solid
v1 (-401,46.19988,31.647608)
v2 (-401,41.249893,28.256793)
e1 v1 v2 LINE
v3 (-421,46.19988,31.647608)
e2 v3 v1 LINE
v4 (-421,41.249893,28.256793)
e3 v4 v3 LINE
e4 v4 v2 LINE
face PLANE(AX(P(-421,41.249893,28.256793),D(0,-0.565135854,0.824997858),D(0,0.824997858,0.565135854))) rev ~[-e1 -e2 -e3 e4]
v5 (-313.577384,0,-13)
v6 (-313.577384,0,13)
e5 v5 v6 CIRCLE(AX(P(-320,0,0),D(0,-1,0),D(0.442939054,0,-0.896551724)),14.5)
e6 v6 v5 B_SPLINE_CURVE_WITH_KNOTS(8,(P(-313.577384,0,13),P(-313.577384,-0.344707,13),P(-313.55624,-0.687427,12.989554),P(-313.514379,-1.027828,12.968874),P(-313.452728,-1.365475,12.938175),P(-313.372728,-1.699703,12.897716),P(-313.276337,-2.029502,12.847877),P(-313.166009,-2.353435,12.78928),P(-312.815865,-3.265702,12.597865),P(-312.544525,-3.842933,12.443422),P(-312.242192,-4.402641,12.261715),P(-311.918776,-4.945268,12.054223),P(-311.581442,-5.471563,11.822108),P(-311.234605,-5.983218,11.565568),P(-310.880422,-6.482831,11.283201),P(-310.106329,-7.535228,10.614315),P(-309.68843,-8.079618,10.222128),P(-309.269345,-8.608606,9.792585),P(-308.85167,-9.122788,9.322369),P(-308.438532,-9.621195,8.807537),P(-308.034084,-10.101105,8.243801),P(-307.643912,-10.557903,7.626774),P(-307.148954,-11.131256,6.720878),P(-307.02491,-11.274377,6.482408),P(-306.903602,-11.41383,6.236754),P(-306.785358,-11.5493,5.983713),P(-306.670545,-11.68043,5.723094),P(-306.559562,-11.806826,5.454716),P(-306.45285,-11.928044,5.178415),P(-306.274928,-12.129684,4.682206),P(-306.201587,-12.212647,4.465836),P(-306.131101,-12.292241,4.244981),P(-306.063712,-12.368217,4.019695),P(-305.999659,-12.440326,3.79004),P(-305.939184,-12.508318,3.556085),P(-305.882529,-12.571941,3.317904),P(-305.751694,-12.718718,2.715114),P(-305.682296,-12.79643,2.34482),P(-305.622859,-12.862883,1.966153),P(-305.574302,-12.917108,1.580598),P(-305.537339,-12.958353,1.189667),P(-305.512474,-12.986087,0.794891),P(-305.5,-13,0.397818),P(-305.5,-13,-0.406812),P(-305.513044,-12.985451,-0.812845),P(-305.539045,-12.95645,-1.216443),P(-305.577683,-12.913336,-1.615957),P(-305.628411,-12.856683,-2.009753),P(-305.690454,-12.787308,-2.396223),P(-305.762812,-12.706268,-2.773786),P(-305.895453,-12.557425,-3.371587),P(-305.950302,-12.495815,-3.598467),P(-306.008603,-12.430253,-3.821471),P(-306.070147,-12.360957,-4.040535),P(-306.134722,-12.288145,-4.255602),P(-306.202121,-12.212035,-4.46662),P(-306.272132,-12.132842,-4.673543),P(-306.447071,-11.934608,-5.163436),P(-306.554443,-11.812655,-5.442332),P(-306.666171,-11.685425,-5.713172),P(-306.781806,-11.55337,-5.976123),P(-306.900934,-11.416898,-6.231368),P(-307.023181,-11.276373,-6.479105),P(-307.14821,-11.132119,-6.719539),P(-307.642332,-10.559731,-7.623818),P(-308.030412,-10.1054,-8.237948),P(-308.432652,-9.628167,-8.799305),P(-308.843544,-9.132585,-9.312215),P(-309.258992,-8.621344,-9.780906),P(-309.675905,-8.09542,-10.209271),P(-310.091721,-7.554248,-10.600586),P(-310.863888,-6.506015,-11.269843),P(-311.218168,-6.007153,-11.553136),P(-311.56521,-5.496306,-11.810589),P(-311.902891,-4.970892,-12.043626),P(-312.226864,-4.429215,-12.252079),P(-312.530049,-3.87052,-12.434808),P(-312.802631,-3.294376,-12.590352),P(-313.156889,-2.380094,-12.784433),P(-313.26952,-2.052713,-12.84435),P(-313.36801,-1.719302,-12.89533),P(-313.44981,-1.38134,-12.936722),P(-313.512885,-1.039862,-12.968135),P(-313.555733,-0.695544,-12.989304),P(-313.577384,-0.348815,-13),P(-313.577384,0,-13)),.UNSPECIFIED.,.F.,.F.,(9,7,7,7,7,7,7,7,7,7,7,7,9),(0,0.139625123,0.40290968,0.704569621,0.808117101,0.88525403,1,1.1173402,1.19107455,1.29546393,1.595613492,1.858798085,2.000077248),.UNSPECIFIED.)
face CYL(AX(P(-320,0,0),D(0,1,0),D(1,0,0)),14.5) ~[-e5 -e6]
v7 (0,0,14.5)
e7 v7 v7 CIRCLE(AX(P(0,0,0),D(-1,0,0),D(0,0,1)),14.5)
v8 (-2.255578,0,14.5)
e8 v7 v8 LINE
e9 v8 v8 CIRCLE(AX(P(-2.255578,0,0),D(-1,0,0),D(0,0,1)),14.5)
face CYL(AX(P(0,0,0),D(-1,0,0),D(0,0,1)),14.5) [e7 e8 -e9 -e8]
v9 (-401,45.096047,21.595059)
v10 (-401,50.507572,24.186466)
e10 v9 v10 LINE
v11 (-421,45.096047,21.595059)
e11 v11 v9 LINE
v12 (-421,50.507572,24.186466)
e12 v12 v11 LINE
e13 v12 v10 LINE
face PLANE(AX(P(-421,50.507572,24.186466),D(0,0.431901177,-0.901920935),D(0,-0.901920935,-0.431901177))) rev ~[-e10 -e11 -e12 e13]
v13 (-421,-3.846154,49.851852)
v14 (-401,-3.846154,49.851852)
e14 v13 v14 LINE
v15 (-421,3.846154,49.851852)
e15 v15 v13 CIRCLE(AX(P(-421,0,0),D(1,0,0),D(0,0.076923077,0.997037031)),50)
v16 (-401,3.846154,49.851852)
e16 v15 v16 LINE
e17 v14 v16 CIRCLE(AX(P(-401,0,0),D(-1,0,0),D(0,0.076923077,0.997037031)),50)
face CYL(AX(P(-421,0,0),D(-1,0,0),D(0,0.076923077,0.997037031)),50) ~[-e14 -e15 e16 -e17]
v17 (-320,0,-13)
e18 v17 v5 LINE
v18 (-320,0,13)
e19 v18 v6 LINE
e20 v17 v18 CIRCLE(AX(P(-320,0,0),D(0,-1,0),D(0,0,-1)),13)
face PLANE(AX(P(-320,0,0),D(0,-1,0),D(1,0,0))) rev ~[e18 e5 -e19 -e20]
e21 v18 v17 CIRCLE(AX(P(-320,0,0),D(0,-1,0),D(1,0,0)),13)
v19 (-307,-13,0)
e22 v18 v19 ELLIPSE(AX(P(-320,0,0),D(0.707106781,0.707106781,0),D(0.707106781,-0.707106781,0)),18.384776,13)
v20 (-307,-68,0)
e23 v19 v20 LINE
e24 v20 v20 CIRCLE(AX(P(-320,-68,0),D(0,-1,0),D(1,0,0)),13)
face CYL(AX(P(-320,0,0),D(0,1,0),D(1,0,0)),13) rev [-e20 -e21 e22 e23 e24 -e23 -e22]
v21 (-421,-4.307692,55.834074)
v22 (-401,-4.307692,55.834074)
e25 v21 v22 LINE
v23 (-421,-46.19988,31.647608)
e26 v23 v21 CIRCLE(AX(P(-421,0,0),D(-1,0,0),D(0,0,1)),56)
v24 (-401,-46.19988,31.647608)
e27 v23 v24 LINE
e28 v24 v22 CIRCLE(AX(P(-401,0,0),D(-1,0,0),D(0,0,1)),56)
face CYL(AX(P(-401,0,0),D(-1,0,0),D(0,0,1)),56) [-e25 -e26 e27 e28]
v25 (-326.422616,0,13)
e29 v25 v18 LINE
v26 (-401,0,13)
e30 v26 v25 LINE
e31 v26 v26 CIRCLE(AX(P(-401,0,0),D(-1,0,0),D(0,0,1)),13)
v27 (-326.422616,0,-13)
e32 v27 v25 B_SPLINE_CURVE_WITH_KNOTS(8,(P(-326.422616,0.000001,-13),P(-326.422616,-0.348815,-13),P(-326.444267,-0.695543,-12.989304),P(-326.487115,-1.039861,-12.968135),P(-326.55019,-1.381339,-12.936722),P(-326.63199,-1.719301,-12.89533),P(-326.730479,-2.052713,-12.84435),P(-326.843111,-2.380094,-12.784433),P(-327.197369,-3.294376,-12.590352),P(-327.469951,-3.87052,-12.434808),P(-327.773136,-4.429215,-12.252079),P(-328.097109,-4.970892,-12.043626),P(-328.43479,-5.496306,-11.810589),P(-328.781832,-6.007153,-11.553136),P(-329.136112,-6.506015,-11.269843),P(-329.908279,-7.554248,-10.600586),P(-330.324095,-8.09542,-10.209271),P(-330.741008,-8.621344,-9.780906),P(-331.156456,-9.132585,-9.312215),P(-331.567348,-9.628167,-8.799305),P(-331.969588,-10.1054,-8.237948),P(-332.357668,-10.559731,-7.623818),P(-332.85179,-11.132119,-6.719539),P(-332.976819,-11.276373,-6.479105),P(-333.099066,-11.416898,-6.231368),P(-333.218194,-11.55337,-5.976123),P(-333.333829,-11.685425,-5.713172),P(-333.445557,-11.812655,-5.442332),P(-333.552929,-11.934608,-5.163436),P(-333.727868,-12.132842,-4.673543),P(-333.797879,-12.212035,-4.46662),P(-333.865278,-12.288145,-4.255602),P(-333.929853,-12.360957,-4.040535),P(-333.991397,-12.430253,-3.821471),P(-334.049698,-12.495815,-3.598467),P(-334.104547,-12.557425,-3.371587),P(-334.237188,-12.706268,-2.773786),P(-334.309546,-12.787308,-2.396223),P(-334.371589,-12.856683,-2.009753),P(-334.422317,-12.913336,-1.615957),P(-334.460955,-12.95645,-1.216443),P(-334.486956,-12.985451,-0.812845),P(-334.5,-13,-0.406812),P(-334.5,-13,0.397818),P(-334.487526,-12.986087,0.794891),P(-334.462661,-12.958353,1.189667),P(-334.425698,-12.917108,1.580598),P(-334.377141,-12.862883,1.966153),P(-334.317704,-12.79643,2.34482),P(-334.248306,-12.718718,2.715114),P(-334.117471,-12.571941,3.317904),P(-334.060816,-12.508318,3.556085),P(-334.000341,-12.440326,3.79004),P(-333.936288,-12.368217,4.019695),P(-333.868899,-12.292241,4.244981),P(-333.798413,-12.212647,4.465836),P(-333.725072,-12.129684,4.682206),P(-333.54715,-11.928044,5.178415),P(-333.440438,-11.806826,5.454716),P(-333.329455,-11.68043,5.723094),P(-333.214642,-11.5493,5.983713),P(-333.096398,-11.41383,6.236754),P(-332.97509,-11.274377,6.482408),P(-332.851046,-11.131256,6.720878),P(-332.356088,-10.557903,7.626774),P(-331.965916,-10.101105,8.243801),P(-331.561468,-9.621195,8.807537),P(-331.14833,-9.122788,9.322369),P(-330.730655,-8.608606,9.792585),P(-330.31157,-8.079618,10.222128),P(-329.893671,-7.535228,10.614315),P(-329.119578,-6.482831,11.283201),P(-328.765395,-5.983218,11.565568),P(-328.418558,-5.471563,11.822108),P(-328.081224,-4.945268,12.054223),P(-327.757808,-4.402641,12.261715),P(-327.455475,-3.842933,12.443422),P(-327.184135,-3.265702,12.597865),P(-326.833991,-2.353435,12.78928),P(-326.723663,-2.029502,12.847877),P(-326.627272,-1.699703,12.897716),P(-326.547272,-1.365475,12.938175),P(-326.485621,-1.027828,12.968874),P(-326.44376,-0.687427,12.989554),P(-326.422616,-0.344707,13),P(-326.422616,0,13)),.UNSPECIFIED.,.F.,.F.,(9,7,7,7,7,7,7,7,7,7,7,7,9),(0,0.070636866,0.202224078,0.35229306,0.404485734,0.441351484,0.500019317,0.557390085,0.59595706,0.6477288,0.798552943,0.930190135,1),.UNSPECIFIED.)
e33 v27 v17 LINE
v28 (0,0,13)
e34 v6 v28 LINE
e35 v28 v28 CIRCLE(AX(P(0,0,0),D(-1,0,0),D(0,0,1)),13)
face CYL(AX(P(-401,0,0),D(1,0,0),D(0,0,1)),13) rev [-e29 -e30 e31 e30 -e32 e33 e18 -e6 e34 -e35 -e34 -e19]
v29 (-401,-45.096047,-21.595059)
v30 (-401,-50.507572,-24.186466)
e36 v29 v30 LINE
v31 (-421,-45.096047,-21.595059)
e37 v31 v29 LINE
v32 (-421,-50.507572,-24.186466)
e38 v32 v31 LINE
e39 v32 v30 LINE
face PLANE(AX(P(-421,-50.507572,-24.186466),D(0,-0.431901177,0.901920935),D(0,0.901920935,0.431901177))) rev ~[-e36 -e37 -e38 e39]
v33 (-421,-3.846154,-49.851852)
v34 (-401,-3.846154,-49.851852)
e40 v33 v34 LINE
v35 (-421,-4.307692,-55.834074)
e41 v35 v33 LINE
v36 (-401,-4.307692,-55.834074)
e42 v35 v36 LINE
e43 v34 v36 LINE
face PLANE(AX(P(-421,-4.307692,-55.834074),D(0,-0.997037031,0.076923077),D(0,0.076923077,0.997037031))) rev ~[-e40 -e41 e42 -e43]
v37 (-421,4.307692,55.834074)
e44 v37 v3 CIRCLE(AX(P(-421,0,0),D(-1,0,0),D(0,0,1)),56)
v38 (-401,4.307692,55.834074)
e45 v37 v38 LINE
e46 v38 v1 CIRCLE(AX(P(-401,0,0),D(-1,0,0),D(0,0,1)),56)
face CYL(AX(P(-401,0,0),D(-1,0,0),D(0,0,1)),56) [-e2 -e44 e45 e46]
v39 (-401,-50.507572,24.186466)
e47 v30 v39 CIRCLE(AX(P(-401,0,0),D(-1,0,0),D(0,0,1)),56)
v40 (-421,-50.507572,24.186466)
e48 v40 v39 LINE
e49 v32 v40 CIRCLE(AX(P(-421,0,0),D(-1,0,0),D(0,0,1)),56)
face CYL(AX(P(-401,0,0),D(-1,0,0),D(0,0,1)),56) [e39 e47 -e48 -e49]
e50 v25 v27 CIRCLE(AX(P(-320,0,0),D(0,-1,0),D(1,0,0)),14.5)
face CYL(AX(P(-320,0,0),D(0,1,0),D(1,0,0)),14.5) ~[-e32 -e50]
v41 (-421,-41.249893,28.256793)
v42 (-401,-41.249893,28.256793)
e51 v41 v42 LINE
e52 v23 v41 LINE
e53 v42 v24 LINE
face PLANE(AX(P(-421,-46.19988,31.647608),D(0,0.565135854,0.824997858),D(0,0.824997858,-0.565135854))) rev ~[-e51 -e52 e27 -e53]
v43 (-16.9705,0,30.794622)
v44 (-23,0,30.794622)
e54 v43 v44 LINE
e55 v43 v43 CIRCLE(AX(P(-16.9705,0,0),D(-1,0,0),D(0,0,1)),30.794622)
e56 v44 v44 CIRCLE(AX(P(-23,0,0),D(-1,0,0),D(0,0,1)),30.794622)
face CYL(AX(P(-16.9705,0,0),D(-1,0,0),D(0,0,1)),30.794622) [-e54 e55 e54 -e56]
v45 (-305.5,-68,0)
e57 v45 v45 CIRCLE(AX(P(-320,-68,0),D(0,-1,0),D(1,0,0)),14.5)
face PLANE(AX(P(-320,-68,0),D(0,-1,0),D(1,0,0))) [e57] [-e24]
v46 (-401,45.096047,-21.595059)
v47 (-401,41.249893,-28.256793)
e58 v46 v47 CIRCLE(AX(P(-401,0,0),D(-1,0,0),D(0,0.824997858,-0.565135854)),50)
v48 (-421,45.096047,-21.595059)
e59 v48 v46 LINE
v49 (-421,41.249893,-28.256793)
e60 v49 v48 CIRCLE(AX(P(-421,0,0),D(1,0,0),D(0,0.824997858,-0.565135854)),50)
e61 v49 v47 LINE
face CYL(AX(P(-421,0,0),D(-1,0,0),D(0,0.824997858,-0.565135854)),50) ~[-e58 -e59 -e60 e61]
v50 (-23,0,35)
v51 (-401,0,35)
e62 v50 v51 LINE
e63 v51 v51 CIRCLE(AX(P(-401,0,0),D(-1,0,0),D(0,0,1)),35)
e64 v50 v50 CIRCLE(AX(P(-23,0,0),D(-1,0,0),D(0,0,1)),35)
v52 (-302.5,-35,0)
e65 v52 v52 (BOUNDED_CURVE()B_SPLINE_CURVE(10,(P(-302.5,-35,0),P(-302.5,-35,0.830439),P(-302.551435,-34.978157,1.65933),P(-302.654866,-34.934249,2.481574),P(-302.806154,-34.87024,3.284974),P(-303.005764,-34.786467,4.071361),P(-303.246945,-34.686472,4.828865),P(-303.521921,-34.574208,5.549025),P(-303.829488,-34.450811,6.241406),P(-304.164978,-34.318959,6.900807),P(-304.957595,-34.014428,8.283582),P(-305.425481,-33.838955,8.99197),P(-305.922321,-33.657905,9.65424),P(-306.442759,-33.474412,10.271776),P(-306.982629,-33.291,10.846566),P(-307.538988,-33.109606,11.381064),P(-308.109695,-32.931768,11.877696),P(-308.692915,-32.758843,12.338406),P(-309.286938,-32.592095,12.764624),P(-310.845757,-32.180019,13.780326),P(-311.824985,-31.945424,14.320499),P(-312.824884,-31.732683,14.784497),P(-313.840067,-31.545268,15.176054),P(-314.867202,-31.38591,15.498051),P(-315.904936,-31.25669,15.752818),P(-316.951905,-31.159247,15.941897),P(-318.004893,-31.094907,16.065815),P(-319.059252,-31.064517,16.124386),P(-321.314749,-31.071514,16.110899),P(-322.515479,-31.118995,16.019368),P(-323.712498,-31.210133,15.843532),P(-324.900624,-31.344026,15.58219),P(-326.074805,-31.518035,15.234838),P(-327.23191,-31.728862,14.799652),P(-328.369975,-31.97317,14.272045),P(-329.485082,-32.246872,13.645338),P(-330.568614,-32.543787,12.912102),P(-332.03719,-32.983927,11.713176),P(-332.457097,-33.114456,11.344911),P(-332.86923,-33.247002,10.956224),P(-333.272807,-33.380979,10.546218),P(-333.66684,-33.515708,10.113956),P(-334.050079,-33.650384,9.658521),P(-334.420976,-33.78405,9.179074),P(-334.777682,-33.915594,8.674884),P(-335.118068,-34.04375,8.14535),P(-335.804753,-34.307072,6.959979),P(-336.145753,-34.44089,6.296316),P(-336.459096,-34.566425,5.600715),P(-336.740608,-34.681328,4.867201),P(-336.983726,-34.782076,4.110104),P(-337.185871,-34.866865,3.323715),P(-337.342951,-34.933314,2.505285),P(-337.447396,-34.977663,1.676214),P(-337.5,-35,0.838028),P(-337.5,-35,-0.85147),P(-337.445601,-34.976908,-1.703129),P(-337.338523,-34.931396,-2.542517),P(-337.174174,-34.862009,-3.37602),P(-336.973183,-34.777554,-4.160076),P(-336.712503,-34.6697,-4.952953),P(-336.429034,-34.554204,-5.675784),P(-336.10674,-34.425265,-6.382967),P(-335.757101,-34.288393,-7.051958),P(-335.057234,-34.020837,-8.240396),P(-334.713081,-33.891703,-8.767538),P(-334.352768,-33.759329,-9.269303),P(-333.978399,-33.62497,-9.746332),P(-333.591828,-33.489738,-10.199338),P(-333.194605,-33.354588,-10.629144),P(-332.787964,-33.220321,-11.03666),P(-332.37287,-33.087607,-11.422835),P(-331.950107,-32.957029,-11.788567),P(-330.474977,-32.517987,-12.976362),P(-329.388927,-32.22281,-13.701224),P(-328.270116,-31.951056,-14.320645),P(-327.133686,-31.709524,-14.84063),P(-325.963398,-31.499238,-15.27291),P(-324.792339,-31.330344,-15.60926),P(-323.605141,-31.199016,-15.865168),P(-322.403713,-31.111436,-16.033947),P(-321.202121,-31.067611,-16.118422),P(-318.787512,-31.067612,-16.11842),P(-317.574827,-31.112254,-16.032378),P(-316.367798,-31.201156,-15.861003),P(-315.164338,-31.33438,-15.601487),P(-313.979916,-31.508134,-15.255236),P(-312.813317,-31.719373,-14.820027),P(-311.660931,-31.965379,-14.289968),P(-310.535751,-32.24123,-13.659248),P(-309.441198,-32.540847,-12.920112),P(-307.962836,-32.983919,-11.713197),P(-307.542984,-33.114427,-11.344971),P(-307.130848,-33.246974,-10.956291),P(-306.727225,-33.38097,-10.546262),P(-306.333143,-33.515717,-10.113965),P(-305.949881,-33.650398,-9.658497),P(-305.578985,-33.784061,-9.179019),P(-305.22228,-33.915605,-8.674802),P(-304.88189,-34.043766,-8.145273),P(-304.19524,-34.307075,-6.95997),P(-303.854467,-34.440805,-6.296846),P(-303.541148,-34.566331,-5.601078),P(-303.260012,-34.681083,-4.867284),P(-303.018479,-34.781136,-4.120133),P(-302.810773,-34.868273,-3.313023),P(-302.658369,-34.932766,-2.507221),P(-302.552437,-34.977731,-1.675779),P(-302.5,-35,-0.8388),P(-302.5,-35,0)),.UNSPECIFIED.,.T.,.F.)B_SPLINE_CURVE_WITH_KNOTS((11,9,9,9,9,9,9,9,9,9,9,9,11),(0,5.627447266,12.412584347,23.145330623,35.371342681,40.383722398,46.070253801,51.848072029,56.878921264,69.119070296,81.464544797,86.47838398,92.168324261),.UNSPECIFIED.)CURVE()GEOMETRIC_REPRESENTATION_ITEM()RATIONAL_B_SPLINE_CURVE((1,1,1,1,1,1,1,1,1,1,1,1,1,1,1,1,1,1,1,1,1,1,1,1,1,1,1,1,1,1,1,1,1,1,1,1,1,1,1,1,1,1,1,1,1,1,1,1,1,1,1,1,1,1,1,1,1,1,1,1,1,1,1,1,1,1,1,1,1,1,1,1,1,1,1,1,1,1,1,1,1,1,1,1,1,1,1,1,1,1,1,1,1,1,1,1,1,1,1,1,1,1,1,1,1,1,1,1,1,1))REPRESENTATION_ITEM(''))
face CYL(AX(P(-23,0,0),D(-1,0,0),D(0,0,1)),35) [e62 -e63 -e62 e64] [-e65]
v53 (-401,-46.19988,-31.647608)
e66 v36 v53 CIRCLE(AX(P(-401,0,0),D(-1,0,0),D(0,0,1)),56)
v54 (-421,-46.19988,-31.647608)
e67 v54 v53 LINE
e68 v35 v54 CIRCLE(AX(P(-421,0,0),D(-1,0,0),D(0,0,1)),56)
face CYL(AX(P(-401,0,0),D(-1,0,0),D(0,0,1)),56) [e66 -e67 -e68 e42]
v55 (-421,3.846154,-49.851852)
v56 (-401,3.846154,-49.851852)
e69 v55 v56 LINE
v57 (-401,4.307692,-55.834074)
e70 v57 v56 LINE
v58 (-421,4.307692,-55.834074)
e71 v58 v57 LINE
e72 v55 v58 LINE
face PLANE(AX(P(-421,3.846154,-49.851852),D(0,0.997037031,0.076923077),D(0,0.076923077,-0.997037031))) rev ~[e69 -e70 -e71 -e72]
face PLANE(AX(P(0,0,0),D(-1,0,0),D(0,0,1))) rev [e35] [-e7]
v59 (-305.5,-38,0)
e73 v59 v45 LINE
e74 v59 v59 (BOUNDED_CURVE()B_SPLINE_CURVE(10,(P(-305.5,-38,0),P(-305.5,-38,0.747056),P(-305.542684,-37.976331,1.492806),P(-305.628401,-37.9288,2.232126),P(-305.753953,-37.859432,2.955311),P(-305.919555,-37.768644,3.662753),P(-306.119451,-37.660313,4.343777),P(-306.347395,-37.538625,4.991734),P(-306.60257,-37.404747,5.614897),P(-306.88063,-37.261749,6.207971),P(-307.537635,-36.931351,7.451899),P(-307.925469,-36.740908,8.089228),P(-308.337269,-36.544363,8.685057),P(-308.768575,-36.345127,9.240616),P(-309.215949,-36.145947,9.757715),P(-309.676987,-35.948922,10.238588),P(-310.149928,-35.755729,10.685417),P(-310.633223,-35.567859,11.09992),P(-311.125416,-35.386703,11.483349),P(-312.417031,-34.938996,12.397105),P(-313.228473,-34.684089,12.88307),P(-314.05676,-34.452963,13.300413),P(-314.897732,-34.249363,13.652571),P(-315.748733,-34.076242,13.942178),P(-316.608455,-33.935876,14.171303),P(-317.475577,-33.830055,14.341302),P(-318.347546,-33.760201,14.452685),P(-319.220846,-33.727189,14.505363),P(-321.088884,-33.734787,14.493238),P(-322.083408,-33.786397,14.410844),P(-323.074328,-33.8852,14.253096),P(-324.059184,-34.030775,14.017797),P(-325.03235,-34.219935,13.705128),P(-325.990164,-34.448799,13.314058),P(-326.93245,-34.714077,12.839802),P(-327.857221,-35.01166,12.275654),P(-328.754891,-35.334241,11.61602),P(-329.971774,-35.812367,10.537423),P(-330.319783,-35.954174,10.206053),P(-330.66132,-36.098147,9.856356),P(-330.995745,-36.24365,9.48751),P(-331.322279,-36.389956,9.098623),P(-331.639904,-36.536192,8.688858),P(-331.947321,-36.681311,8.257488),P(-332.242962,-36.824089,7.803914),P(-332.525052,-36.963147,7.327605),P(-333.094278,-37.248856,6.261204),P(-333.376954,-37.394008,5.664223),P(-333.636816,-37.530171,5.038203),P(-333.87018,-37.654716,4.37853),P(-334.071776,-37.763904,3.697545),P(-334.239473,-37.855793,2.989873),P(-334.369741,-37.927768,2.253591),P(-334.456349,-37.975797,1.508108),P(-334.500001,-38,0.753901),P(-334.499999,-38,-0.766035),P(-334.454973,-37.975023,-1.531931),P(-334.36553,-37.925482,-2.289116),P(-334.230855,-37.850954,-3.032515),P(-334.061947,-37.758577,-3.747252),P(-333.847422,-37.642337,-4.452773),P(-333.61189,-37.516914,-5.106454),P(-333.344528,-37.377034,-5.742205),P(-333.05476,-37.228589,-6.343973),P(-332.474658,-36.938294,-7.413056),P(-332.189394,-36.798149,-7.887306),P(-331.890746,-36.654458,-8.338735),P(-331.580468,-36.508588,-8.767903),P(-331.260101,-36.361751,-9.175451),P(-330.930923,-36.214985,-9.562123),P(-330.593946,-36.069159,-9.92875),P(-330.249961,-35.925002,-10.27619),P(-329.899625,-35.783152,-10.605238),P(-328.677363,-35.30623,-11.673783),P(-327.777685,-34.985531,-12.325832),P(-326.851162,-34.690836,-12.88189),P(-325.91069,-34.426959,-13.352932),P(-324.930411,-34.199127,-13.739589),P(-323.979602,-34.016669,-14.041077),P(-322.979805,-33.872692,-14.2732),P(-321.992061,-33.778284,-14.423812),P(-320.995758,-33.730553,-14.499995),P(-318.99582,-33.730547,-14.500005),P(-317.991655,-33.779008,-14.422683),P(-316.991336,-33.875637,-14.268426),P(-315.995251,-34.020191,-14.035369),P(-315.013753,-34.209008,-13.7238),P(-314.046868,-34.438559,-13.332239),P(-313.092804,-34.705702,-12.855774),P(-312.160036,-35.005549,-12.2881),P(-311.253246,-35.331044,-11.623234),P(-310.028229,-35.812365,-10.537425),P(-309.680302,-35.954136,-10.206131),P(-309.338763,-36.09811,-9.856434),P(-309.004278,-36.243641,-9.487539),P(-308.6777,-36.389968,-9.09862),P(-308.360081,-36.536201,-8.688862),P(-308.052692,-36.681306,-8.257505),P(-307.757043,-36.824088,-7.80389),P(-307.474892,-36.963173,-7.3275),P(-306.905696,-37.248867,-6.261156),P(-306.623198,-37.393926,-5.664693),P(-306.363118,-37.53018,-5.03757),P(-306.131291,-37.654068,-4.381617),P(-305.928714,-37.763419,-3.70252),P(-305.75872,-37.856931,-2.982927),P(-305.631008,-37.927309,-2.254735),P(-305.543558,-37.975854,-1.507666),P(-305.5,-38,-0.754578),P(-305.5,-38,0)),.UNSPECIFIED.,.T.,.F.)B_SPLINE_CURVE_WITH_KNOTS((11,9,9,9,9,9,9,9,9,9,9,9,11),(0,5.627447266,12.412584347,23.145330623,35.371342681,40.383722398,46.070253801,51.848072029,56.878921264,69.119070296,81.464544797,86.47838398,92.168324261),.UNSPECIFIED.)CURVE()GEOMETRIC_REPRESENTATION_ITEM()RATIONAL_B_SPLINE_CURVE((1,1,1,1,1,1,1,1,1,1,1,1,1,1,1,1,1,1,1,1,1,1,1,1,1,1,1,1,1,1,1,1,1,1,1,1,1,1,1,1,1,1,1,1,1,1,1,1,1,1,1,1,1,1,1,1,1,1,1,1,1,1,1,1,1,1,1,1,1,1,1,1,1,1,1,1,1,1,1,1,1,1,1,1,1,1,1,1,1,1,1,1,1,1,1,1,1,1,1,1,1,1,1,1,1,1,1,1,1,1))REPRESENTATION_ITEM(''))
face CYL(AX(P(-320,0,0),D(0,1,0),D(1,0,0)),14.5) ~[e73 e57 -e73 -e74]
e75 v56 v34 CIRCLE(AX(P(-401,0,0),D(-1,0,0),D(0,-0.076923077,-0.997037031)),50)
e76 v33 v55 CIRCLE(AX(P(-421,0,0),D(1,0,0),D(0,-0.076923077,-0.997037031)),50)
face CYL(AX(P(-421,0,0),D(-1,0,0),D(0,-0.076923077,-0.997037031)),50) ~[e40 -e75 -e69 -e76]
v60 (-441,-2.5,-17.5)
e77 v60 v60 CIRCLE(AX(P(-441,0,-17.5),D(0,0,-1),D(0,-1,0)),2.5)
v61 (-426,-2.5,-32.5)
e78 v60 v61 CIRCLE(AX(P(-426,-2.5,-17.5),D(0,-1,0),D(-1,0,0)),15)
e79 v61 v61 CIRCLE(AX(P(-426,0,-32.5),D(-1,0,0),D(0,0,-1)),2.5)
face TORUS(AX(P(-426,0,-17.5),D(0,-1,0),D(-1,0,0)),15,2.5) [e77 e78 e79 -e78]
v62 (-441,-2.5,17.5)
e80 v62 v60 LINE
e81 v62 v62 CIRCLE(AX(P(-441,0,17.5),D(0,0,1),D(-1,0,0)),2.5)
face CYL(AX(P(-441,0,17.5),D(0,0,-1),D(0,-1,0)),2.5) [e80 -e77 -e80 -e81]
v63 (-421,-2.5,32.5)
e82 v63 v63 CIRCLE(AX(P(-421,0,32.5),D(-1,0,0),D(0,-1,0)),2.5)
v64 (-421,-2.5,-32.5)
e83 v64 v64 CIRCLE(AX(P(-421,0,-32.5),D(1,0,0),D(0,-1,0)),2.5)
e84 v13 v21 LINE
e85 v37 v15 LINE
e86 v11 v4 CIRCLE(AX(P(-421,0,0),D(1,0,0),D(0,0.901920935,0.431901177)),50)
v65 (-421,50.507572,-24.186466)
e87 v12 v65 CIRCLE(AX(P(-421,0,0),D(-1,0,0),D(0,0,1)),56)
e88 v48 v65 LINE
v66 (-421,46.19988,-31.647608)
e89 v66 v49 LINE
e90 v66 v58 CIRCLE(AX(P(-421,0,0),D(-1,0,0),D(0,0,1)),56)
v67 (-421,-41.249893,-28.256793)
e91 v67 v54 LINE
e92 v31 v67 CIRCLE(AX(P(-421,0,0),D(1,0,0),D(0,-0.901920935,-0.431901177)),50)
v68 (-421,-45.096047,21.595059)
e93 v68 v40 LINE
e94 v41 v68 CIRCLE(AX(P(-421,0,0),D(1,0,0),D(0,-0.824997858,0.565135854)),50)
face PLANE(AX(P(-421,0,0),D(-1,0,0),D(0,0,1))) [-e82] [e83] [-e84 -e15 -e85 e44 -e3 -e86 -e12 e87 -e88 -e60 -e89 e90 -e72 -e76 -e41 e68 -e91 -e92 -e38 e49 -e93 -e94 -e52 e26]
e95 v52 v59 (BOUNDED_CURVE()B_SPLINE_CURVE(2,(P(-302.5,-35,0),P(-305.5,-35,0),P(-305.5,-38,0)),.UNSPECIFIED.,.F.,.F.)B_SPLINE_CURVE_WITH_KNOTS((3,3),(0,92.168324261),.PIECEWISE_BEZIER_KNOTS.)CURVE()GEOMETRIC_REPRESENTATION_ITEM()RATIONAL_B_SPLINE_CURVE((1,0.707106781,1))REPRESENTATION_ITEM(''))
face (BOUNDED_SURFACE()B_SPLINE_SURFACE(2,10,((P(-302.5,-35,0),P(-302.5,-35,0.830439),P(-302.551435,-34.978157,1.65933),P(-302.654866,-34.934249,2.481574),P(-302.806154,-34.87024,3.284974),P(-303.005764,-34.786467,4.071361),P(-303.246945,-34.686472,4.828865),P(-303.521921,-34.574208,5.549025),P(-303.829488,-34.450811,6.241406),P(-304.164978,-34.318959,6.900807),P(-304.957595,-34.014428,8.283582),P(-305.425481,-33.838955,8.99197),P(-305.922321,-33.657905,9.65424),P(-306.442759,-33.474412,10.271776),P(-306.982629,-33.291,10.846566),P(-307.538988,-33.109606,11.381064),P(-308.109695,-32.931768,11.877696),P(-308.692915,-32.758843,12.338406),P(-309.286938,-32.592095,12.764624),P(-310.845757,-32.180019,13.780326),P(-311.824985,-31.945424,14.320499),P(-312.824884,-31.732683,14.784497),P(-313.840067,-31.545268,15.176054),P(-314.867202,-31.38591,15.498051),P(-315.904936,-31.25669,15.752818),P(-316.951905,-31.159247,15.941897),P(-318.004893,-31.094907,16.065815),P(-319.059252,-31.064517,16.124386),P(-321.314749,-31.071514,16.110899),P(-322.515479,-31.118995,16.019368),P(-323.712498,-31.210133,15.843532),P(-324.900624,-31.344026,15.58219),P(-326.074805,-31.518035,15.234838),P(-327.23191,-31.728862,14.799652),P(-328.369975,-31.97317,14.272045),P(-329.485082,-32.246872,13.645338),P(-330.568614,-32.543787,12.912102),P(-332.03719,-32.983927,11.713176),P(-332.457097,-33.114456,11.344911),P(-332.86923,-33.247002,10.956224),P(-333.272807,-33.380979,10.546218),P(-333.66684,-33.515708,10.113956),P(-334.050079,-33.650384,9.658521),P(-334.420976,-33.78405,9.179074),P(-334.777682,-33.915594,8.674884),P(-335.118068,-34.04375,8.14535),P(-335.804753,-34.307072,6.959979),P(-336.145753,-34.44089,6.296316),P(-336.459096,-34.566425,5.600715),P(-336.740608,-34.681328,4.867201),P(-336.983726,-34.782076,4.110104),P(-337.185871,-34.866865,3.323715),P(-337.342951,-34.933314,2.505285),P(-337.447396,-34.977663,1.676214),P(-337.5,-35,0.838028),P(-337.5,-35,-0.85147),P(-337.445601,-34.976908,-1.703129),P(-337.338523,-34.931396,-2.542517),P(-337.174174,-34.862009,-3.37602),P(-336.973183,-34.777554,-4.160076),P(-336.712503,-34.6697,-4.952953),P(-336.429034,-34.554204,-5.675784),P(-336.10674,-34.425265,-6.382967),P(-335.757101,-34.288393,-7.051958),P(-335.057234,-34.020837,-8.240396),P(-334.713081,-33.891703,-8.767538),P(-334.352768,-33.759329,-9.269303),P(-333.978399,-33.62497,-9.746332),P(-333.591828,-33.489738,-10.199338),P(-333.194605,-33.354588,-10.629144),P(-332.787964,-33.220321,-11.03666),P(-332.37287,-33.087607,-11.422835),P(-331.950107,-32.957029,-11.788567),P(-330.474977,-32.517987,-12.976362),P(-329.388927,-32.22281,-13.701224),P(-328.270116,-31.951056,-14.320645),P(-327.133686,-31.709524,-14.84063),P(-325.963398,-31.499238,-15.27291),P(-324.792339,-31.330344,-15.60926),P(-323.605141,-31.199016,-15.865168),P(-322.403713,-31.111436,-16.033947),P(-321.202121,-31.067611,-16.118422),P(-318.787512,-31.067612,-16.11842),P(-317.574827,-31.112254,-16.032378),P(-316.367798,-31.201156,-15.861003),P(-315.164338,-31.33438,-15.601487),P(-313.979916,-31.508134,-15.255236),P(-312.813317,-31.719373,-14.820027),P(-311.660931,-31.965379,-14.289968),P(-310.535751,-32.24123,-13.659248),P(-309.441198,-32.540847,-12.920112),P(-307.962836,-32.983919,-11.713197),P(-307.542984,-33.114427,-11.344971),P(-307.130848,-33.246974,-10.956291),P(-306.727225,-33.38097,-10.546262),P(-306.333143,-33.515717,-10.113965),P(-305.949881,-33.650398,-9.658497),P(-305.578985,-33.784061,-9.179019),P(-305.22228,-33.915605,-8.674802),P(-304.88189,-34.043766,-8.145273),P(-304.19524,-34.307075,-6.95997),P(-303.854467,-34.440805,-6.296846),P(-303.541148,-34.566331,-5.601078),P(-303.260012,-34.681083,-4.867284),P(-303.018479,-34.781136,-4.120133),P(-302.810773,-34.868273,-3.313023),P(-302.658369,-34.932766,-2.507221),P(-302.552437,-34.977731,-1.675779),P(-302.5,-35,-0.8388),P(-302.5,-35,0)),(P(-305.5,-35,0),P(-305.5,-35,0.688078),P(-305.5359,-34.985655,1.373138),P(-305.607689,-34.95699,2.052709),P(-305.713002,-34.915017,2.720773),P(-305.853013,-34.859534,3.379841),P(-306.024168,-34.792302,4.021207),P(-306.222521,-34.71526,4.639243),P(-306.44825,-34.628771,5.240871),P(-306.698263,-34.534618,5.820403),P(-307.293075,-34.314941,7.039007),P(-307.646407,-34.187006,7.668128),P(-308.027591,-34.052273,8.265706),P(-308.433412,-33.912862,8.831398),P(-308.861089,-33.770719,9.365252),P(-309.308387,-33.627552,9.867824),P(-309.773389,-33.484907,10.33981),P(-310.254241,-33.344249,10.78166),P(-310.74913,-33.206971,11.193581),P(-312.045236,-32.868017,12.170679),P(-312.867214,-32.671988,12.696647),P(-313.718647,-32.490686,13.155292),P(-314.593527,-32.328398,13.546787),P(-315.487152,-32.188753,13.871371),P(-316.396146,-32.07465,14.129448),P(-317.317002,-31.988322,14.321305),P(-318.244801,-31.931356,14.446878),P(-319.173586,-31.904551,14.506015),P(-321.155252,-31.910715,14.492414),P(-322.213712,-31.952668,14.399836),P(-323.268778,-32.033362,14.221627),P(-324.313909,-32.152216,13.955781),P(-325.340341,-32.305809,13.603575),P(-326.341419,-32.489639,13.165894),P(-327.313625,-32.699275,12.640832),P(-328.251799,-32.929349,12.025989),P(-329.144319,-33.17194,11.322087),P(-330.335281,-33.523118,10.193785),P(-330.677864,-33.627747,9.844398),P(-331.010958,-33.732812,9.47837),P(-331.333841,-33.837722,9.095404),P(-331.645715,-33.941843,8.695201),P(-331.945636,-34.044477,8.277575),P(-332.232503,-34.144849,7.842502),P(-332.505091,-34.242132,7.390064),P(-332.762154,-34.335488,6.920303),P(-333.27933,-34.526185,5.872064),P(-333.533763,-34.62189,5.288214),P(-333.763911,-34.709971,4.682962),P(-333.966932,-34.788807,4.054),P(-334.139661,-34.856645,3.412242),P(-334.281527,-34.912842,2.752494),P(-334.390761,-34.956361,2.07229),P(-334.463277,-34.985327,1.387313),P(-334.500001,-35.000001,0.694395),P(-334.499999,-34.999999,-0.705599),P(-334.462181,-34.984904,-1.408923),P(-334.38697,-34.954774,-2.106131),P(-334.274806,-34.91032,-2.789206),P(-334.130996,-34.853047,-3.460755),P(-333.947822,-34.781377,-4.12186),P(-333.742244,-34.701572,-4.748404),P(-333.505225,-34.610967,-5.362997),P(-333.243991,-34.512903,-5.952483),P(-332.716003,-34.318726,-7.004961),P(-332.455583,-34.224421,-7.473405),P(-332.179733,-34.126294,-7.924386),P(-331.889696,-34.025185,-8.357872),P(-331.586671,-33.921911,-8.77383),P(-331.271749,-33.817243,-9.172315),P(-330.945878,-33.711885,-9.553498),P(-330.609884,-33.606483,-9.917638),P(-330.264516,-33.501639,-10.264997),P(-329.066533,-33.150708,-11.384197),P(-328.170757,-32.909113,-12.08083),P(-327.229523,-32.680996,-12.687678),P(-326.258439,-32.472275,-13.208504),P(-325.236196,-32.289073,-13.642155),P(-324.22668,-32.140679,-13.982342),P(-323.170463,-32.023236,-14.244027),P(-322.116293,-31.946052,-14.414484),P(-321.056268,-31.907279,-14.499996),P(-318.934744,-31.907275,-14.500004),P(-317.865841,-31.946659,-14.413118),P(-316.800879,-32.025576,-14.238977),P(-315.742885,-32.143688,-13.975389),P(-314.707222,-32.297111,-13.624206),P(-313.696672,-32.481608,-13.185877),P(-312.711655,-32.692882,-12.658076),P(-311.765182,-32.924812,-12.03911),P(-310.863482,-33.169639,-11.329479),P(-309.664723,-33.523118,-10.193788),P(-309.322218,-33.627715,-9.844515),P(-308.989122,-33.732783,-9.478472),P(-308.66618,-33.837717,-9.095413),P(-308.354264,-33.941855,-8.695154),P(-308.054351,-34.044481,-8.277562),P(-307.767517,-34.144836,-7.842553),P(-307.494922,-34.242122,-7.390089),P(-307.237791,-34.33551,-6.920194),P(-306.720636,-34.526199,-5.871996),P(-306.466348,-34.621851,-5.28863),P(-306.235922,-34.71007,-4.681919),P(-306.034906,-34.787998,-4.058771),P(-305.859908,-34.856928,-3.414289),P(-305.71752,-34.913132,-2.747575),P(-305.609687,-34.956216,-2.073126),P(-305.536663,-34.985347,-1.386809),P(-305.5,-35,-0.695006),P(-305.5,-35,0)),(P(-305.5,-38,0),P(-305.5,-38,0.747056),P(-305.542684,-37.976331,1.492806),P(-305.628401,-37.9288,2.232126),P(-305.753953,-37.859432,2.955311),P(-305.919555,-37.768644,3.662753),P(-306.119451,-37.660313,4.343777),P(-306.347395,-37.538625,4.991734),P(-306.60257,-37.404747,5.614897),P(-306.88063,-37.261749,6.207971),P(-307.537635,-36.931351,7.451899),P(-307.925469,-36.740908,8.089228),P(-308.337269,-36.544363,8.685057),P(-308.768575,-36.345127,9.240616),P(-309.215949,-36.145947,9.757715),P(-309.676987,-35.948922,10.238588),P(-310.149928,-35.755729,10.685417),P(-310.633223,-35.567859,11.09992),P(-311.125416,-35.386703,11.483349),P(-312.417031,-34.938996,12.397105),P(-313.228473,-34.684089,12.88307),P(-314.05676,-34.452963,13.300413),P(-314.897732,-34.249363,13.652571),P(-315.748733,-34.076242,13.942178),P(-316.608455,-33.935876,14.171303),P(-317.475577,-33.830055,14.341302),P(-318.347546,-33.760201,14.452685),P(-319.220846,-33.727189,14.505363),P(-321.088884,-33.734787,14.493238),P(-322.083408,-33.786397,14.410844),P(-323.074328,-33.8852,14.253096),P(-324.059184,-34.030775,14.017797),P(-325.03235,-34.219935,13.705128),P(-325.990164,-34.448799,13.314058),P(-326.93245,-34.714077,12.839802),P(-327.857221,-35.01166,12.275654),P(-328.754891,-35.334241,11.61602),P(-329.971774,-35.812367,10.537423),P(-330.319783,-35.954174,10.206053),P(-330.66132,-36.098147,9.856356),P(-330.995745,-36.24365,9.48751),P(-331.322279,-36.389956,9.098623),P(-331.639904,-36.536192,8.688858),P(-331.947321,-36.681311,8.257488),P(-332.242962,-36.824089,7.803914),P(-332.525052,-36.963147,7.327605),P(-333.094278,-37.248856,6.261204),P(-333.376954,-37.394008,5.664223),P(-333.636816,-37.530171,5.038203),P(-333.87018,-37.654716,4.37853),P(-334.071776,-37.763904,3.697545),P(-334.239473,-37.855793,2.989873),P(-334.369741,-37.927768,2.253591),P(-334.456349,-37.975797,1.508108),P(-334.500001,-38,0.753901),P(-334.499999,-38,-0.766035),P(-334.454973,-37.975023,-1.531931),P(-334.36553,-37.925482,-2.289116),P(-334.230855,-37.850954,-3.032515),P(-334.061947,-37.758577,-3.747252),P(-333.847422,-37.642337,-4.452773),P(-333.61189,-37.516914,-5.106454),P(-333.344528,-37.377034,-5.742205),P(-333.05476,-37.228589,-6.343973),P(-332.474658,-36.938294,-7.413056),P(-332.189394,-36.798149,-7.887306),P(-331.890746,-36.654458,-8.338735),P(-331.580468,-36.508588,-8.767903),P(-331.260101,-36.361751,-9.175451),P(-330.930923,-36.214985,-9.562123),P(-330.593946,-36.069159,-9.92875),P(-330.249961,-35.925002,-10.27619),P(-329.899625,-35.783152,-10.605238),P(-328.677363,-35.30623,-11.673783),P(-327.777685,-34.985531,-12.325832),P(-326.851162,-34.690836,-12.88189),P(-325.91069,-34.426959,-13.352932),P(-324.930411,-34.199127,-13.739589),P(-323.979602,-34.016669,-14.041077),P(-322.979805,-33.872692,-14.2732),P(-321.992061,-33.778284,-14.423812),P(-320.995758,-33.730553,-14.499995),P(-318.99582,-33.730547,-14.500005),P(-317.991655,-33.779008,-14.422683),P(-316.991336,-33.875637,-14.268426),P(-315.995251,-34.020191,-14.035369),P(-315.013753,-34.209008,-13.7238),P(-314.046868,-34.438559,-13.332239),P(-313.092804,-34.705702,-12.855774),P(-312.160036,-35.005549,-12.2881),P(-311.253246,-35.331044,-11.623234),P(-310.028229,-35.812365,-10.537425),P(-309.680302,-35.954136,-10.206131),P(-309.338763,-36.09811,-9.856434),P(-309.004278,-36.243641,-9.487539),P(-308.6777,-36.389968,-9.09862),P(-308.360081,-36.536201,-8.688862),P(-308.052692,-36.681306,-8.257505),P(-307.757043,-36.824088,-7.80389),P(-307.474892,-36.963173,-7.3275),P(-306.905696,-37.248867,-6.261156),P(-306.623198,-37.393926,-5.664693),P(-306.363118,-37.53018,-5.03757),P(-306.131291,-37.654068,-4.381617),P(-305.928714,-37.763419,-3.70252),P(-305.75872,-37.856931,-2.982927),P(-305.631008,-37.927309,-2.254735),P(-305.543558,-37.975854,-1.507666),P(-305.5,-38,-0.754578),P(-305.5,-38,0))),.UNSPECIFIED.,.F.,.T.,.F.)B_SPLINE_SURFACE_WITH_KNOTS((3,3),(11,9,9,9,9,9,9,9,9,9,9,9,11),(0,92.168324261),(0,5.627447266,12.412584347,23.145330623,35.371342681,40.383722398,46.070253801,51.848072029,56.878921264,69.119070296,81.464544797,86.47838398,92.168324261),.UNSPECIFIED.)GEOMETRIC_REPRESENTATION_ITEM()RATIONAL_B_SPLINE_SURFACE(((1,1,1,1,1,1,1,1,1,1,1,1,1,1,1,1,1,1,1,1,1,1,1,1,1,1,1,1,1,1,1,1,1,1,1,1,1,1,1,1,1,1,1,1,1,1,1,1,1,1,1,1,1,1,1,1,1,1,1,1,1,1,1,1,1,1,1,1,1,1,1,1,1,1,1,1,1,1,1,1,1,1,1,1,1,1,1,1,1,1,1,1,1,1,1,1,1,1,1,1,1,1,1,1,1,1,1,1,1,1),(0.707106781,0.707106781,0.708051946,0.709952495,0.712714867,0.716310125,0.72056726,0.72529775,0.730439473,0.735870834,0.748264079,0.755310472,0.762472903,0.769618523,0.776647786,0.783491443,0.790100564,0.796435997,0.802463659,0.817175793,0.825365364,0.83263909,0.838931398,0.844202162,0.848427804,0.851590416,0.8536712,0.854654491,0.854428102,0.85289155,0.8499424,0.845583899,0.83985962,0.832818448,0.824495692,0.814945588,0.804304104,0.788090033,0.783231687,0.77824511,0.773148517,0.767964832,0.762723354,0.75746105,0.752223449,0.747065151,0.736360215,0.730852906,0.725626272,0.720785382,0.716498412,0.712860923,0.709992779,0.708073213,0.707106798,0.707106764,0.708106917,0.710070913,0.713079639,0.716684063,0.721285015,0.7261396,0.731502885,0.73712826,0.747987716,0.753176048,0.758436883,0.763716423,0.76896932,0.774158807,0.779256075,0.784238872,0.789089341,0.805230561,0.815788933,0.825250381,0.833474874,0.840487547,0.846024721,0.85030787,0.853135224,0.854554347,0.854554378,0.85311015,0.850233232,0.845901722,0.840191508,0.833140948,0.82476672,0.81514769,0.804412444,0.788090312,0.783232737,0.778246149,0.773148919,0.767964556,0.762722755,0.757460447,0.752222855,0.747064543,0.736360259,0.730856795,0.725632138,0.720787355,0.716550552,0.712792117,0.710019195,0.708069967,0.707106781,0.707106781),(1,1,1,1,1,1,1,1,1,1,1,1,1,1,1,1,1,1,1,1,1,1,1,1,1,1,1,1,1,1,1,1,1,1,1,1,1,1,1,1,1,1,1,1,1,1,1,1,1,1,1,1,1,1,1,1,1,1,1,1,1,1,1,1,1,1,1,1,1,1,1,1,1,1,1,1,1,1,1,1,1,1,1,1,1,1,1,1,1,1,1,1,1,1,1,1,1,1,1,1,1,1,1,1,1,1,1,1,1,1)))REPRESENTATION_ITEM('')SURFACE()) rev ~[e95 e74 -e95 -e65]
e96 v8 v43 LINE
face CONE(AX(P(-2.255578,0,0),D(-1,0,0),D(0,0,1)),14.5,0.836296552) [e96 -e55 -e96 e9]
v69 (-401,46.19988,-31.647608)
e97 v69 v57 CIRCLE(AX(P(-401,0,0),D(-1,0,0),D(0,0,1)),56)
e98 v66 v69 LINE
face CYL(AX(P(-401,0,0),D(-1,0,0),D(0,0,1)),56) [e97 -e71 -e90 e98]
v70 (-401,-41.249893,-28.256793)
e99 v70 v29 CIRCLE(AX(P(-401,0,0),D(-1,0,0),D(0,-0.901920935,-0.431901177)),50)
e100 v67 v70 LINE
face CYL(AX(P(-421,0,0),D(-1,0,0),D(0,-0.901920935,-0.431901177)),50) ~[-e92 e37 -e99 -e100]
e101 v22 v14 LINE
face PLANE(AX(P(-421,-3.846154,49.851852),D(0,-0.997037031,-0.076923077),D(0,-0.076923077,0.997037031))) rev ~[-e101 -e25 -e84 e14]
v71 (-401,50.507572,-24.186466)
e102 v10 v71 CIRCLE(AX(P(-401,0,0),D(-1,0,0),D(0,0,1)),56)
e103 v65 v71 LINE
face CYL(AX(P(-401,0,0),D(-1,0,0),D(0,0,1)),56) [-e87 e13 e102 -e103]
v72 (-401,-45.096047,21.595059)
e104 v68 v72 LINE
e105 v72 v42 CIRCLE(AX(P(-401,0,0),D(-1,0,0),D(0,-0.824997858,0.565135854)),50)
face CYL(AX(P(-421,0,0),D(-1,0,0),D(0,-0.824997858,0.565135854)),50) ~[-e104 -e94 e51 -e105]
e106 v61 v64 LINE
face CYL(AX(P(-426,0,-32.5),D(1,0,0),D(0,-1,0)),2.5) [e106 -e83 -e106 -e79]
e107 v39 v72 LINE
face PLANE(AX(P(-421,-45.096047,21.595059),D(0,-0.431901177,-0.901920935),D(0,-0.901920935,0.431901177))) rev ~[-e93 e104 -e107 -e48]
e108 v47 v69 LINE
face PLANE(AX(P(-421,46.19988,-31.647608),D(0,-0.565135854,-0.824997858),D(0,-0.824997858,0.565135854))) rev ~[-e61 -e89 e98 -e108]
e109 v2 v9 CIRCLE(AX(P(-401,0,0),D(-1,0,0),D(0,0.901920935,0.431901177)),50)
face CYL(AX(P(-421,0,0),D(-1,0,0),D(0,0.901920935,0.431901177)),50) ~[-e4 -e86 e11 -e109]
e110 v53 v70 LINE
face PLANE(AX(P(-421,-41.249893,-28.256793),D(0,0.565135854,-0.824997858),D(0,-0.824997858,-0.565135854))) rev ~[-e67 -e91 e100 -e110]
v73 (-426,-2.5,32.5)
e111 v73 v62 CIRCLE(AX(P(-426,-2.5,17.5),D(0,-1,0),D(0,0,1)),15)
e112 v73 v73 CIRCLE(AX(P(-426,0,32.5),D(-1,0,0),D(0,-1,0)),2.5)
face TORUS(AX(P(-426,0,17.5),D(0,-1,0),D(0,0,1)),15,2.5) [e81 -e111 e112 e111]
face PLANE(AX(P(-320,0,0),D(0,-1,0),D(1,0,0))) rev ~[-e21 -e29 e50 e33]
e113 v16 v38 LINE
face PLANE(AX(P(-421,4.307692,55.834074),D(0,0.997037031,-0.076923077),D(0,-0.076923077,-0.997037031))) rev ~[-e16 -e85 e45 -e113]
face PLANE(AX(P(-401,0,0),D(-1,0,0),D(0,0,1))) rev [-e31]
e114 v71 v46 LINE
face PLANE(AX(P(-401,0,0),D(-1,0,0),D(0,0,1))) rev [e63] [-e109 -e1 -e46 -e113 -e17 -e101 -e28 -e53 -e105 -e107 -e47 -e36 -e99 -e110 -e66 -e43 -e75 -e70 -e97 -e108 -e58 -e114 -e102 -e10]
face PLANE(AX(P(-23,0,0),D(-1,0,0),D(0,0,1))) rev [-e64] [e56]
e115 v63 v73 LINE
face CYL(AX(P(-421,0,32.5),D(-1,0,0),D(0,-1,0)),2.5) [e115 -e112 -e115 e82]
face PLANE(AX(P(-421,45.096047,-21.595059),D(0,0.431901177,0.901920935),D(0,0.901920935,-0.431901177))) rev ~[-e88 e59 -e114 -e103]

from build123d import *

# Parameters (mm, degrees)
F3_R     = 2.5
F5_DEPTH = 25
F6_R     = 14.5
F6_R_2   = 13
F7_DEPTH = 68
F8_R     = 13
F9_DEPTH = 68
F10_R    = 3


with BuildPart() as f1:
    # F0 (on Front) → F1 (revolve)
    with BuildSketch(Plane.XZ):
        Polygon((-401, 13), (0, 13), (0, 14.5), (-2.255578215, 14.5), (-16.97050035, 30.7946223766), (-23, 30.7946223766), (-23, 35), (-401, 35), (-401, 56), (-421, 56), (-421, 0), (-401, 0), align=None)
    revolve(axis=Axis((-210.5, 0, 0), (-1, 0, 0)))

    # F4: sweep along a path in F2
    with BuildLine(Plane.XZ) as f4_path:
        Line((-421, 32.5), (-426, 32.5))
        ThreePointArc((-426, 32.5), (-436.6066017178, 28.1066017178), (-441, 17.5))
        Line((-441, 17.5), (-441, 0))
        Line((-441, 0), (-441, -17.5))
        ThreePointArc((-441, -17.5), (-436.6066017178, -28.1066017178), (-426, -32.5))
        Line((-426, -32.5), (-421, -32.5))
    # F3 (on face) → F4 (sweep)
    with BuildSketch(Plane(origin=(-421, 0, 0), x_dir=(0, -1, 0), z_dir=(-1, 0, 0))):
        with Locations((0, 32.5)):
            Circle(F3_R)
    sweep(path=f4_path.line)

    # F3 (on face) → F5 (cut)
    with BuildSketch(Plane(origin=(-421, 0, 0), x_dir=(0, -1, 0), z_dir=(-1, 0, 0))):
        with BuildLine():
            ThreePointArc((-3.8461538462, 49.8518515262), (0, 50), (3.8461538462, 49.8518515262))
            Line((3.8461538462, 49.8518515262), (4.3076923077, 55.8340737094))
            ThreePointArc((4.3076923077, 55.8340737094), (0, 56), (-4.3076923077, 55.8340737094))
            Line((-4.3076923077, 55.8340737094), (-3.8461538462, 49.8518515262))
        make_face()
        with BuildLine():
            ThreePointArc((50.5075723829, 24.1864658845), (48.4974226119, 28), (46.1998800752, 31.6476078248))
            Line((46.1998800752, 31.6476078248), (41.2498929243, 28.2567927007))
            ThreePointArc((41.2498929243, 28.2567927007), (43.3012701892, 25), (45.0960467705, 21.5950588255))
            Line((45.0960467705, 21.5950588255), (50.5075723829, 24.1864658845))
        make_face()
        with BuildLine():
            ThreePointArc((46.1998800752, -31.6476078248), (48.4974226119, -28), (50.5075723829, -24.1864658845))
            Line((50.5075723829, -24.1864658845), (45.0960467705, -21.5950588255))
            ThreePointArc((45.0960467705, -21.5950588255), (43.3012701892, -25), (41.2498929243, -28.2567927007))
            Line((41.2498929243, -28.2567927007), (46.1998800752, -31.6476078248))
        make_face()
        with BuildLine():
            Line((-3.8461538462, -49.8518515262), (-4.3076923077, -55.8340737094))
            ThreePointArc((-4.3076923077, -55.8340737094), (0, -56), (4.3076923077, -55.8340737094))
            Line((4.3076923077, -55.8340737094), (3.8461538462, -49.8518515262))
            ThreePointArc((3.8461538462, -49.8518515262), (0, -50), (-3.8461538462, -49.8518515262))
        make_face()
        with BuildLine():
            Line((-45.0960467705, -21.5950588255), (-50.5075723829, -24.1864658845))
            ThreePointArc((-50.5075723829, -24.1864658845), (-48.4974226119, -28), (-46.1998800752, -31.6476078248))
            Line((-46.1998800752, -31.6476078248), (-41.2498929243, -28.2567927007))
            ThreePointArc((-41.2498929243, -28.2567927007), (-43.3012701892, -25), (-45.0960467705, -21.5950588255))
        make_face()
        with BuildLine():
            Line((-41.2498929243, 28.2567927007), (-46.1998800752, 31.6476078248))
            ThreePointArc((-46.1998800752, 31.6476078248), (-48.4974226119, 28), (-50.5075723829, 24.1864658845))
            Line((-50.5075723829, 24.1864658845), (-45.0960467705, 21.5950588255))
            ThreePointArc((-45.0960467705, 21.5950588255), (-43.3012701892, 25), (-41.2498929243, 28.2567927007))
        make_face()
    extrude(amount=-F5_DEPTH, mode=Mode.SUBTRACT)

    # F6 (on Front) → F7 (join)
    with BuildSketch(Plane.XZ):
        with Locations((-320, 0)):
            Circle(F6_R)
        with Locations((-320, 0)):
            Circle(F6_R_2, mode=Mode.SUBTRACT)
    extrude(amount=F7_DEPTH)

    # F8 (on face) → F9 (cut)
    with BuildSketch(Plane.XZ.offset(68)):
        with Locations((-320, 0)):
            Circle(F8_R)
    extrude(amount=-F9_DEPTH, mode=Mode.SUBTRACT)

    # F10
    f10_edges = [f1.edges().sort_by_distance(p)[0] for p in [
        (-334.5, -35, 0),
    ]]
    fillet(f10_edges, radius=F10_R)


solid = f1.part
